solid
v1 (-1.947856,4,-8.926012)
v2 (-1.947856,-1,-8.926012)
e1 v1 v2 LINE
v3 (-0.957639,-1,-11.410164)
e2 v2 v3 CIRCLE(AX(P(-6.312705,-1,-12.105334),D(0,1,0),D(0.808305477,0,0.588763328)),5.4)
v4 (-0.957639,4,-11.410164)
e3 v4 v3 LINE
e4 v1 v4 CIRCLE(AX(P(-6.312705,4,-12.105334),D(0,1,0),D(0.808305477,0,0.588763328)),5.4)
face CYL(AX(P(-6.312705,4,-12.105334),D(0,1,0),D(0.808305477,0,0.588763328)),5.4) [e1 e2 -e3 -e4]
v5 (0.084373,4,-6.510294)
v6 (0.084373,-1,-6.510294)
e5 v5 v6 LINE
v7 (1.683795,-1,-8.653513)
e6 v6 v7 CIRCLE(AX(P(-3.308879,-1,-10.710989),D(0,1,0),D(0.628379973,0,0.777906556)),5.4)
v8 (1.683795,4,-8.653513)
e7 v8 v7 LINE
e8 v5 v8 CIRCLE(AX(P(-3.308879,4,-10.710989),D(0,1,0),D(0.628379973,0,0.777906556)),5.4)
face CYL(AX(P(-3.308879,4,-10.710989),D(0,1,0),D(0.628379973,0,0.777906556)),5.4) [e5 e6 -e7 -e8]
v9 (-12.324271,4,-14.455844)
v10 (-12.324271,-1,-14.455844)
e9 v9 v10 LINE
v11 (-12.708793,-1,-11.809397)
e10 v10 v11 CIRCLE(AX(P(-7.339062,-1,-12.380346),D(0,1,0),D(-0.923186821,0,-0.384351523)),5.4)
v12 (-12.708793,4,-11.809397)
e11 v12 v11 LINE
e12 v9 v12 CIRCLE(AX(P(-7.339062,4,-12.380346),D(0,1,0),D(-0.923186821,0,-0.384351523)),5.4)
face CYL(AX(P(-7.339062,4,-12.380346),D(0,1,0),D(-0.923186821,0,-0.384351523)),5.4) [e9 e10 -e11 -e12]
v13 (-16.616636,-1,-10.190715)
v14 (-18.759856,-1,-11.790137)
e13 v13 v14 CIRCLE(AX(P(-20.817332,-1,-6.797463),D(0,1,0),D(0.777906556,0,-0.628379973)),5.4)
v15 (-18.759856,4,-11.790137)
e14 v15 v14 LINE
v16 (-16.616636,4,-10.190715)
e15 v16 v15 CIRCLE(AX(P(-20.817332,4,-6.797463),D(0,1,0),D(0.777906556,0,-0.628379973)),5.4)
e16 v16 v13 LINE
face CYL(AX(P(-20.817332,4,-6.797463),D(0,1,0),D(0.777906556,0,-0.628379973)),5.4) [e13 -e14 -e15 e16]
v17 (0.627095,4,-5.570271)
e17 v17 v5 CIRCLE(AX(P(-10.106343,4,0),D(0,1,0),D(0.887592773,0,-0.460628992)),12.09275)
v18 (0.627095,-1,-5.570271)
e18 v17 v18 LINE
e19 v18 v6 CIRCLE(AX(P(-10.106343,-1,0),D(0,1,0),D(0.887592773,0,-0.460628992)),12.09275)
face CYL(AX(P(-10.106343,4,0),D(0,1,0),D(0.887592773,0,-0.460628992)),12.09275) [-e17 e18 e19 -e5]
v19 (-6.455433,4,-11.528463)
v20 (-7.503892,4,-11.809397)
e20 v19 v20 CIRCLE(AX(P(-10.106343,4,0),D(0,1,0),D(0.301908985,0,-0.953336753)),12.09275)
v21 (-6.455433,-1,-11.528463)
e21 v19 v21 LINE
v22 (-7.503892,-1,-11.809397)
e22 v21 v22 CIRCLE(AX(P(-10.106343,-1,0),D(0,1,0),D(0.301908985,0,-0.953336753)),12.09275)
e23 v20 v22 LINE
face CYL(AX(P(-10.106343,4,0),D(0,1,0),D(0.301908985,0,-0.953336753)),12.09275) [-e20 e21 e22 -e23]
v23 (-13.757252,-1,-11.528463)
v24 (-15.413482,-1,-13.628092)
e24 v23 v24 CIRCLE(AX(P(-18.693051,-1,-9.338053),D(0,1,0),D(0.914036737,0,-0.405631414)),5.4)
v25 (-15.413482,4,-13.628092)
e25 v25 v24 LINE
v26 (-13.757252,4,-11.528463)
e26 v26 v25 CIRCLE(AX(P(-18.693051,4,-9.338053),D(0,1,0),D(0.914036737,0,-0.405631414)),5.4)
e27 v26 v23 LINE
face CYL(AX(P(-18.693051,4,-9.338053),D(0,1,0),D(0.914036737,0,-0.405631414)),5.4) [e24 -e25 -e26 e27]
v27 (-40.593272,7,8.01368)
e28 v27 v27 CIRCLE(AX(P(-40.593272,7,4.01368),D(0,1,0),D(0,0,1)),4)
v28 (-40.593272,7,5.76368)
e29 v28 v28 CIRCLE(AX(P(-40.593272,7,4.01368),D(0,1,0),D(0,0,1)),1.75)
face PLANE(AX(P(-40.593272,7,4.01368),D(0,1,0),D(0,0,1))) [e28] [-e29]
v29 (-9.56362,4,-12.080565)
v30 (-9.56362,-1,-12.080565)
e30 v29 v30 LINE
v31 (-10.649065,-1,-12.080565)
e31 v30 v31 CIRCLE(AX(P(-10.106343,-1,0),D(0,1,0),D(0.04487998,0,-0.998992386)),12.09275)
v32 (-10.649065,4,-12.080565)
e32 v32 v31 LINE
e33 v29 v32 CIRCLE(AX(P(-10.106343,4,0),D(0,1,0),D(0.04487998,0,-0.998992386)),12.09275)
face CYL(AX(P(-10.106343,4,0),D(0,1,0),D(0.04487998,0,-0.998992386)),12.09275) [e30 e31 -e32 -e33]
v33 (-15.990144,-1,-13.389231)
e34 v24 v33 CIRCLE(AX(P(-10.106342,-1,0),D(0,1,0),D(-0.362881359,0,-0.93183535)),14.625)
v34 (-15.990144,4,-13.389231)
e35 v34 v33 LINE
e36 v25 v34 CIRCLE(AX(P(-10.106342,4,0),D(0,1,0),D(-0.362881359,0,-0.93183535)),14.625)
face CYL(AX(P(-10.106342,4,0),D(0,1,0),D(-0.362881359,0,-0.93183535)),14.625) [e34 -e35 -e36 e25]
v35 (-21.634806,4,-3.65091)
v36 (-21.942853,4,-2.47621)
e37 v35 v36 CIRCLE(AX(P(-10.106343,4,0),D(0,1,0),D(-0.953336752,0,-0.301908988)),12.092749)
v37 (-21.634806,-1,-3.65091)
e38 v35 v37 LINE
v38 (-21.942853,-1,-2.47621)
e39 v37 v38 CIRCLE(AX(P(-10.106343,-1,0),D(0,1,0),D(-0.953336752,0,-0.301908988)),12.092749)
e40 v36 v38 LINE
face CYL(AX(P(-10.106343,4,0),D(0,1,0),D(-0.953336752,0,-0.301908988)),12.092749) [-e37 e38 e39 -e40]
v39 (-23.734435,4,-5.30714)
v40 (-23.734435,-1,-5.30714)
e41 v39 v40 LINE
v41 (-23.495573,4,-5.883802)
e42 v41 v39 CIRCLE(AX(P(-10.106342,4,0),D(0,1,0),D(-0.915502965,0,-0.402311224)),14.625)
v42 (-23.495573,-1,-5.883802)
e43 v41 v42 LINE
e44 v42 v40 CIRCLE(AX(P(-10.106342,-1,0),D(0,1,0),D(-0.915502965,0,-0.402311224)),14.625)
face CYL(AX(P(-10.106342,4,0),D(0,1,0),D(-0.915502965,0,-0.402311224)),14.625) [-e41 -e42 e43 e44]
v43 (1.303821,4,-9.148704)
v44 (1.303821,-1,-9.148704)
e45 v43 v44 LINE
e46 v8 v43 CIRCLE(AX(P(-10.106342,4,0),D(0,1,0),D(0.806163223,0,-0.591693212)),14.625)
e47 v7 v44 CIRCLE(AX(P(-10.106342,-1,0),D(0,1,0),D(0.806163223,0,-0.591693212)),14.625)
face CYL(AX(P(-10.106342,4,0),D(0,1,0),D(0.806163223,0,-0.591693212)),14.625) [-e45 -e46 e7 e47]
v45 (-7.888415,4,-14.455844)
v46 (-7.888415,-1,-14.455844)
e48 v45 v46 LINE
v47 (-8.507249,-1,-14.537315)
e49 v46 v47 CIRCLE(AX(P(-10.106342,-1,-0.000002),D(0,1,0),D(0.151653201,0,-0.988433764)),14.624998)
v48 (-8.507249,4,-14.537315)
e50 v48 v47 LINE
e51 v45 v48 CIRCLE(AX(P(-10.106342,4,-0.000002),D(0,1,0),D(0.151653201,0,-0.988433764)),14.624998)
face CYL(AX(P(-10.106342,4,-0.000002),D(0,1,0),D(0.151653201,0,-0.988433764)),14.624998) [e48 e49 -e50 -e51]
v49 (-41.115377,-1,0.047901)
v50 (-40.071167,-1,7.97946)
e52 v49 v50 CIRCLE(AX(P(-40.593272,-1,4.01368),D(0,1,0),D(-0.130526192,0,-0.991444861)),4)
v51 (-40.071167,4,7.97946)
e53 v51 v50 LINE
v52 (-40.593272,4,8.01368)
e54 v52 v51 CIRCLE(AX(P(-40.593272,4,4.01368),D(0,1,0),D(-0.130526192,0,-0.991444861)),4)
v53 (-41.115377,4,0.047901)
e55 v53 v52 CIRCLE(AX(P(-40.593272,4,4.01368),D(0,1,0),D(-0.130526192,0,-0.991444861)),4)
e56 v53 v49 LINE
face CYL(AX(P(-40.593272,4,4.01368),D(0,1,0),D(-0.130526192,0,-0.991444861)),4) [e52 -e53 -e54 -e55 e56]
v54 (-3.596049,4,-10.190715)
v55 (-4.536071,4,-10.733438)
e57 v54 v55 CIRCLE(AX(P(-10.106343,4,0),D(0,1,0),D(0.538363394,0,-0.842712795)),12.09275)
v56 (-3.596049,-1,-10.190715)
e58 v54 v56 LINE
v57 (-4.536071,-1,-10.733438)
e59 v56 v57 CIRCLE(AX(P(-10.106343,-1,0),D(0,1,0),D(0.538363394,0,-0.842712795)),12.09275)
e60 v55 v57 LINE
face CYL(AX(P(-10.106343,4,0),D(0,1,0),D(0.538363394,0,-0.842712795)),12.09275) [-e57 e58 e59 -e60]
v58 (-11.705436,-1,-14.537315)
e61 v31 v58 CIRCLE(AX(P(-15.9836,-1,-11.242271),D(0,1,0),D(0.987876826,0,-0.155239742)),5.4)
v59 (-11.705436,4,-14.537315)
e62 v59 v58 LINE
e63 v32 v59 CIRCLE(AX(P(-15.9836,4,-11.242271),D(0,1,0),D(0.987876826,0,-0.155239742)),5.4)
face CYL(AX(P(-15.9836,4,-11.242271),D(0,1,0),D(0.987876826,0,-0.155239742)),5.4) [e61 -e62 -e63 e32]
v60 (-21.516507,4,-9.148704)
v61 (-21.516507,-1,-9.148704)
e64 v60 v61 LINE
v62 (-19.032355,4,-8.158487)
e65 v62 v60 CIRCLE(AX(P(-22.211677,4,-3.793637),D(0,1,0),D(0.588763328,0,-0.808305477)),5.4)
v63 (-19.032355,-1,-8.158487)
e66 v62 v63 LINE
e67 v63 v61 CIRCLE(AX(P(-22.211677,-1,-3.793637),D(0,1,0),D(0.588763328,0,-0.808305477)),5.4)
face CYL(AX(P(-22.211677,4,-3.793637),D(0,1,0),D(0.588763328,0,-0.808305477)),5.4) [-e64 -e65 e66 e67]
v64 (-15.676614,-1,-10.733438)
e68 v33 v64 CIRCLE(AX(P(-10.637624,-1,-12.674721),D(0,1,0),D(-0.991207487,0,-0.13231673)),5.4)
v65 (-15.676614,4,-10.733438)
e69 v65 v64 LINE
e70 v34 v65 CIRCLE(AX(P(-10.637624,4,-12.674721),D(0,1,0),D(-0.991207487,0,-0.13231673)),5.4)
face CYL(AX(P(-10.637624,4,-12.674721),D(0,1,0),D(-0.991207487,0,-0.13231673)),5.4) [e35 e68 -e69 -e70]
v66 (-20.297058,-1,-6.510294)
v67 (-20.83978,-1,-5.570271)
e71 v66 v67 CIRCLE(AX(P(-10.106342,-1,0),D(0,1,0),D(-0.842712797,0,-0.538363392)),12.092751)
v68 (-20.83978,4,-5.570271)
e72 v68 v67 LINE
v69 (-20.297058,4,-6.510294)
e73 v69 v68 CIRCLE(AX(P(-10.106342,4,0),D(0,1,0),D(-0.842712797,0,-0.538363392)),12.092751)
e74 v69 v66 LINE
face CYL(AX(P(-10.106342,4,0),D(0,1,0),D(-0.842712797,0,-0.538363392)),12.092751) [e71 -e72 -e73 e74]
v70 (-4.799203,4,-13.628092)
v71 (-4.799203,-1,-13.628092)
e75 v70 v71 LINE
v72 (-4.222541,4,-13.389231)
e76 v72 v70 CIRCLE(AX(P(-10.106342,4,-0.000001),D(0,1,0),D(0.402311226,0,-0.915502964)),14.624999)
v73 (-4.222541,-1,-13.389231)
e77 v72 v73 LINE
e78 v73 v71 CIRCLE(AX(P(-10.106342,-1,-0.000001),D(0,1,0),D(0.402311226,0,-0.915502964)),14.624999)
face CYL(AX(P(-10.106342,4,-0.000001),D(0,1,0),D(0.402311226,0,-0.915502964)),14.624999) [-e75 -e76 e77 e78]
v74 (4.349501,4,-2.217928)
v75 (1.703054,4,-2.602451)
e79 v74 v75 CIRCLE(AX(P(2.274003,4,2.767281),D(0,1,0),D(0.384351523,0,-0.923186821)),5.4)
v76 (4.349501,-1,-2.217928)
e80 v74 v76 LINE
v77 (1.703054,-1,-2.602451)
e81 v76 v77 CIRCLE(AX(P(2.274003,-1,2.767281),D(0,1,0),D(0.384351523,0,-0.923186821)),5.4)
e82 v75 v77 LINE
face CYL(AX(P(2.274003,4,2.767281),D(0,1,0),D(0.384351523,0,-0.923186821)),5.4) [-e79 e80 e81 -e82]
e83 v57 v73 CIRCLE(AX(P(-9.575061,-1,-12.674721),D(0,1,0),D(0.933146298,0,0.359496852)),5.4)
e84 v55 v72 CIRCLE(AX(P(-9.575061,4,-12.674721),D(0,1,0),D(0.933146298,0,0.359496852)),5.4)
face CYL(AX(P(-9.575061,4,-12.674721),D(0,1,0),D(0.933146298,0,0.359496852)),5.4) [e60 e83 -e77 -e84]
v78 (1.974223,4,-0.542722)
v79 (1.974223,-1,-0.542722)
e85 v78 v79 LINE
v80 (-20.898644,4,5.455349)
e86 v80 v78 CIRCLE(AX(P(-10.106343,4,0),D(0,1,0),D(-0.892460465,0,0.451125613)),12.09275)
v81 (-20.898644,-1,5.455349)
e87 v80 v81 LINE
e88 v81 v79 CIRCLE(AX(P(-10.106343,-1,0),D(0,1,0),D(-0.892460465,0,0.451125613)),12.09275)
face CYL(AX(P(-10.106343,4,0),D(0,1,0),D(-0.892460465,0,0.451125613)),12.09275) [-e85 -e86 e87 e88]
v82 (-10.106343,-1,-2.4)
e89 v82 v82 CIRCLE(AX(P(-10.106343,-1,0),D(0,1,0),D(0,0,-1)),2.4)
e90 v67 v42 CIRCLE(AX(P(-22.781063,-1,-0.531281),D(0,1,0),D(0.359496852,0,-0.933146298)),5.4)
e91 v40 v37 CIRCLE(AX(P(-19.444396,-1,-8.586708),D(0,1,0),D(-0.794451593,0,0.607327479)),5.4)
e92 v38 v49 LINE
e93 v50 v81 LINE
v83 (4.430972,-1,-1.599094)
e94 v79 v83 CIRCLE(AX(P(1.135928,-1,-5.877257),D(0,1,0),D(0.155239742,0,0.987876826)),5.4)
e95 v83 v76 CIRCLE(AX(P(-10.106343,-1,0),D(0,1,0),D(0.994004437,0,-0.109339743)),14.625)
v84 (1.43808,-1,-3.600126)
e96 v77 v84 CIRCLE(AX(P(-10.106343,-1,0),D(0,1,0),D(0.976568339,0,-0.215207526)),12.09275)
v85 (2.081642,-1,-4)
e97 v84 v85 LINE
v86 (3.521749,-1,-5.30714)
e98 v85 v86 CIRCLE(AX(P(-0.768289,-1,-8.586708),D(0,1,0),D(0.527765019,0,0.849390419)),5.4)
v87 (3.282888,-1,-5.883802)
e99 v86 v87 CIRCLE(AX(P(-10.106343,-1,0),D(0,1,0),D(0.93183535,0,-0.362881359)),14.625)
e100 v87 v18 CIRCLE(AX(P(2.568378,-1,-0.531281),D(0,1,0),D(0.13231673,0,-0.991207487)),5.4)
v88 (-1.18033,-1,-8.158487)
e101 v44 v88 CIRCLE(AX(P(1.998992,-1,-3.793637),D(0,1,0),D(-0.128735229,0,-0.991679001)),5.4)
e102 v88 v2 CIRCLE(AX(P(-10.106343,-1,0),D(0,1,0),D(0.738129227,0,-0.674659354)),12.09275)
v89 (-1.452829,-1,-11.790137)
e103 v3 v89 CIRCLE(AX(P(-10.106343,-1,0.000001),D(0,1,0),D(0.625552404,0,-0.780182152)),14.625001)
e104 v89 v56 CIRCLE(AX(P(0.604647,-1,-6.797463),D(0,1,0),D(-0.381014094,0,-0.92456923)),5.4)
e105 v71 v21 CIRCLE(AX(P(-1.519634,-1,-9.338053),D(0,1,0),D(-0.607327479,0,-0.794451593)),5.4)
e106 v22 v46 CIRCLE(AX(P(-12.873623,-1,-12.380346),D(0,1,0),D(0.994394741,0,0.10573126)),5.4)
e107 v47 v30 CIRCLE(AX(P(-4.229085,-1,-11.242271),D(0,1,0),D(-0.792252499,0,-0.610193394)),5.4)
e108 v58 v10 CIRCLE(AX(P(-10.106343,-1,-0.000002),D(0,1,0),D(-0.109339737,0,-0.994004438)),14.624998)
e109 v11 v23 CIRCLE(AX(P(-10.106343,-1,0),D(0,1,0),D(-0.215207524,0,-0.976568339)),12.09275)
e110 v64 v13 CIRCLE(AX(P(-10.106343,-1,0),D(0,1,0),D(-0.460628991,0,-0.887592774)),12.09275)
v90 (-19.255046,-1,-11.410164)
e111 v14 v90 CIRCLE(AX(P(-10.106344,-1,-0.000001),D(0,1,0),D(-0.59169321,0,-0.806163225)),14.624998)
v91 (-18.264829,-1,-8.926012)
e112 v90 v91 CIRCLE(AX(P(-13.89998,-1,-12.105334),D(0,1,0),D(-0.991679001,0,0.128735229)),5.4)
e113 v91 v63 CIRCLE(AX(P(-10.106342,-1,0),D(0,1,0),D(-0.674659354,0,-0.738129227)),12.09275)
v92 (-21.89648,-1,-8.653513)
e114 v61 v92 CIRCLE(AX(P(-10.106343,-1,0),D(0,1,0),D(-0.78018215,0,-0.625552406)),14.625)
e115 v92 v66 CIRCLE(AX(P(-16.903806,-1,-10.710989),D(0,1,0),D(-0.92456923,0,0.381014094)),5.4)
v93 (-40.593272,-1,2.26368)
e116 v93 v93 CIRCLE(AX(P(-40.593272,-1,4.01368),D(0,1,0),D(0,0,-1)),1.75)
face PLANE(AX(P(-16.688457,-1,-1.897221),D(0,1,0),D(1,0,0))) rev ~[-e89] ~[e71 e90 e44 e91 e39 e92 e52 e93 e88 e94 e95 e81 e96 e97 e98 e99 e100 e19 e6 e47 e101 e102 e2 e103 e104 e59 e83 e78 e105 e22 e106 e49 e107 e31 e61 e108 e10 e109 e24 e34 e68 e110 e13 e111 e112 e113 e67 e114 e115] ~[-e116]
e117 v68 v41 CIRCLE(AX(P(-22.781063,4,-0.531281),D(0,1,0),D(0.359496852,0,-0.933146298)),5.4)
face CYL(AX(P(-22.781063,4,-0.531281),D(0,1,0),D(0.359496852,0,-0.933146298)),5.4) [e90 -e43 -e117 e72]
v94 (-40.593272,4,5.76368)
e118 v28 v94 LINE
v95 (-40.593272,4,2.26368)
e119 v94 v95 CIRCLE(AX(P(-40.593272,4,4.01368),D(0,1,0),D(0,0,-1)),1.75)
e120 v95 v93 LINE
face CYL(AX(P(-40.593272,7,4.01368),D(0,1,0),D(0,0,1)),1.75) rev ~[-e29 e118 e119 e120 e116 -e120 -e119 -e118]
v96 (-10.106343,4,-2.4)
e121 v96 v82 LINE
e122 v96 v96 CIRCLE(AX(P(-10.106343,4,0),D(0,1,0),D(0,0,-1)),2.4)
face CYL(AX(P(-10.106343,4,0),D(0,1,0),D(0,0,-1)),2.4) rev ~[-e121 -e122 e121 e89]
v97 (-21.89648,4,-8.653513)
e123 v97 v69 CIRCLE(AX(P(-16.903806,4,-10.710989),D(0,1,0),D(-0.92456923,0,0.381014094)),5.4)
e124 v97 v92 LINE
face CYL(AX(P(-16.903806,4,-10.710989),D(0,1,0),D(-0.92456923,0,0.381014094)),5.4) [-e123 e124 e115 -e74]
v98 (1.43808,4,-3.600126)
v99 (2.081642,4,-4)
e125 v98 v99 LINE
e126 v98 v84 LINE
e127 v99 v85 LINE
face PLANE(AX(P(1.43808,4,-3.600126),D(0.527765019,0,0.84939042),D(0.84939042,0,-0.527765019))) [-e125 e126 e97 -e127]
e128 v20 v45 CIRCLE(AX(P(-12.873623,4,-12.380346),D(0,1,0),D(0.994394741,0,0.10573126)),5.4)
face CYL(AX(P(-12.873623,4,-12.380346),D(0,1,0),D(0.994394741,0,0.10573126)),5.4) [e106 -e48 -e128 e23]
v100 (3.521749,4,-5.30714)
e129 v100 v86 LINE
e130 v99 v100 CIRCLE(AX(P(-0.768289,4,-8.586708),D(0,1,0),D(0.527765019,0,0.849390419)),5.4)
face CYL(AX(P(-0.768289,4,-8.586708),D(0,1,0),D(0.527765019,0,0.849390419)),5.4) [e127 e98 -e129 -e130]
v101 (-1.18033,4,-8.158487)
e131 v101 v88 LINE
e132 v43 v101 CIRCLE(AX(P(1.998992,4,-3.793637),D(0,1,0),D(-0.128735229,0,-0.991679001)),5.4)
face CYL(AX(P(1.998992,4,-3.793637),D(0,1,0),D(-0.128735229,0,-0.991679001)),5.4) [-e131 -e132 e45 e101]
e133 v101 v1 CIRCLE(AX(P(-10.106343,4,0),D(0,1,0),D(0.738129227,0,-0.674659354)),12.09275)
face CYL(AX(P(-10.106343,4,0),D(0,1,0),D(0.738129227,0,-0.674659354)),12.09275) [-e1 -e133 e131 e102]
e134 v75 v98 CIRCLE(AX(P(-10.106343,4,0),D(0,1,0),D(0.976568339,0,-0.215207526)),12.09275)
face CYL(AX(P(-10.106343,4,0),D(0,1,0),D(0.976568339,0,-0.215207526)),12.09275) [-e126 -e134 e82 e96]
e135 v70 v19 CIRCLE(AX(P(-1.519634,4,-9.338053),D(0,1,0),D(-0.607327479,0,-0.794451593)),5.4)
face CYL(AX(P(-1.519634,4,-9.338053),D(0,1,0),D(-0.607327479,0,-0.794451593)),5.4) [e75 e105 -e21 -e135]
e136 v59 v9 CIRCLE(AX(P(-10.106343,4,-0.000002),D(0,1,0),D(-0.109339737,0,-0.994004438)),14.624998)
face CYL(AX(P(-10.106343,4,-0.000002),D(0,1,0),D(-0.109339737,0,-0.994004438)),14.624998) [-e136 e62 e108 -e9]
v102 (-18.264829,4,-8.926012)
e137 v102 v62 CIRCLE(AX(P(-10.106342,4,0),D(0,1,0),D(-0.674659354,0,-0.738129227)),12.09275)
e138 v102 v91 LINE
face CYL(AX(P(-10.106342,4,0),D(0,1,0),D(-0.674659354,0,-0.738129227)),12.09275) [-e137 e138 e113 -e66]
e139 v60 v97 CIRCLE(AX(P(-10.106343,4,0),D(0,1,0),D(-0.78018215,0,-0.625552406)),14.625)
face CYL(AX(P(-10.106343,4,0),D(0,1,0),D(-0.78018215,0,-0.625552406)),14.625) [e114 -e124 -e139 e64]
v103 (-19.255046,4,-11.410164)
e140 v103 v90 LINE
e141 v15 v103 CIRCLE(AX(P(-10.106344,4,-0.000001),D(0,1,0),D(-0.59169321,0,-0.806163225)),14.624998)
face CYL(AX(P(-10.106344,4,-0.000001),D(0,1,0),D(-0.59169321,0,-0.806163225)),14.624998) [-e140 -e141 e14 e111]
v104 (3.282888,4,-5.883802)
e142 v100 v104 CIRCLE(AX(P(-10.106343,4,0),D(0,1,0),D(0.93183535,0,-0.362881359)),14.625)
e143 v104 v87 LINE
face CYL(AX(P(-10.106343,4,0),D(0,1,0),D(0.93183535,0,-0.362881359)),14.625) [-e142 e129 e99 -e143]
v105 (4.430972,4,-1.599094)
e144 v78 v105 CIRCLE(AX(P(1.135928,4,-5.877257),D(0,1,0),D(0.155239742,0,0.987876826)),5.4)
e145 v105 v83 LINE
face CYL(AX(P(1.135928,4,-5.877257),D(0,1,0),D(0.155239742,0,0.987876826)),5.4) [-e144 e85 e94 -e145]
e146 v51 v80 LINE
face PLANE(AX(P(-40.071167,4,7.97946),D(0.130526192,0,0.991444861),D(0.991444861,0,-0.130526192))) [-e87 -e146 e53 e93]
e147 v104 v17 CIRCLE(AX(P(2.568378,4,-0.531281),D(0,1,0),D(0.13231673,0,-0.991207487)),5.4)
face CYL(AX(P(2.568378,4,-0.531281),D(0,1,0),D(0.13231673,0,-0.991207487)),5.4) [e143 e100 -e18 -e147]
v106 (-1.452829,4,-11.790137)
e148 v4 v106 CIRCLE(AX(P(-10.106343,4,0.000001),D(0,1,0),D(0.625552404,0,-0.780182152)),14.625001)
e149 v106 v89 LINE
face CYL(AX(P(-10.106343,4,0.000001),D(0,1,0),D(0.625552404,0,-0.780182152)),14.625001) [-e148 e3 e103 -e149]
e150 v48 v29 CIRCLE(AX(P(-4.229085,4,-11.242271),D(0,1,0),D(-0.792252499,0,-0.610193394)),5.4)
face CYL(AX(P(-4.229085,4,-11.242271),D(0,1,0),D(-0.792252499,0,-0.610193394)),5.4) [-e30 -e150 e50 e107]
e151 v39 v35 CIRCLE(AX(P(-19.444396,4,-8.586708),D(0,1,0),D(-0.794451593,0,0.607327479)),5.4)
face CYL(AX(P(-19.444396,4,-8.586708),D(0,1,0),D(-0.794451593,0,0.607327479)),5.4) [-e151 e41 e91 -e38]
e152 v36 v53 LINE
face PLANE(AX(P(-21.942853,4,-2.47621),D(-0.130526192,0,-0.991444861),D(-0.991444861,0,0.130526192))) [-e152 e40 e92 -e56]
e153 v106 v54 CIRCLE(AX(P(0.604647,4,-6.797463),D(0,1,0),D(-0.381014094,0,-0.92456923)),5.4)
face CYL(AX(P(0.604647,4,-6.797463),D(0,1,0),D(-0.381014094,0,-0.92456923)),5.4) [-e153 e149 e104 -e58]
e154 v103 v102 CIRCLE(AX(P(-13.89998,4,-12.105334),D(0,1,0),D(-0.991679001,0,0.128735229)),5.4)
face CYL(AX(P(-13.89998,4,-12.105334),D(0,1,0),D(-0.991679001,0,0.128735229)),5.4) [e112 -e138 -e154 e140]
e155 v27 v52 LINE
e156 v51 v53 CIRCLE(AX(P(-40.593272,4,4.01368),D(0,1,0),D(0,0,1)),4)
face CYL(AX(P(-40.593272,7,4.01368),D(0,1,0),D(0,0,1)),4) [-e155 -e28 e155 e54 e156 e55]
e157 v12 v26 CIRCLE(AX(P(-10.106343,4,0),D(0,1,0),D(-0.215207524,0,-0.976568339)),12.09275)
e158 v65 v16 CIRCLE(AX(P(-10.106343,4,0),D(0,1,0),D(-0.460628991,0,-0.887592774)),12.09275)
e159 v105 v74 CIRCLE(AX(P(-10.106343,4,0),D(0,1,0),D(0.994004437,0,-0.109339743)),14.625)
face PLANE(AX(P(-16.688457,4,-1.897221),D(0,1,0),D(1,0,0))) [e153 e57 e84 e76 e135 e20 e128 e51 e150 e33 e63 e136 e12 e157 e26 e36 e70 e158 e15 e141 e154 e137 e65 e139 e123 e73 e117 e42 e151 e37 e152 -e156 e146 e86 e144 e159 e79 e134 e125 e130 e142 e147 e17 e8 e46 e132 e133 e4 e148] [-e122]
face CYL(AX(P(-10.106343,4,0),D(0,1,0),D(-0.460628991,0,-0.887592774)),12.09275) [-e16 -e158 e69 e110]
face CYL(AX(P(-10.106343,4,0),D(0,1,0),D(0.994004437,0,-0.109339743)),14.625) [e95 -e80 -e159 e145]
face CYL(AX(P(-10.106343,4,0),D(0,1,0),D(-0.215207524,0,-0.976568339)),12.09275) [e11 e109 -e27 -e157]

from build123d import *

# Parameters (mm, degrees)
SKETCH1_R           = 1.75
SKETCH1_R_2         = 2.4
BOSS_EXTRUDE1_DEPTH = 5
EXTRUDE_START       = 3
SKETCH_1_R          = 4
SKETCH_1_R_2        = 1.75
EXTRUDE_1_DEPTH     = 3


with BuildPart() as part:
    # Sketch1 → Boss-Extrude1 (new body)
    with BuildSketch(Plane(origin=(0, 4, 0), x_dir=(1, 0, 0), z_dir=(0, 1, 0))):
        with BuildLine():
            Line((1.43808022, 3.600125745), (2.081641936, 4))
            ThreePointArc((2.081641936, 4), (2.861028333, 4.588201733), (3.521749436, 5.30713988))
            ThreePointArc((3.521749436, 5.30713988), (3.405395609, 5.596745198), (3.282888305, 5.883801663))
            ThreePointArc((3.282888305, 5.883801663), (1.93527598, 5.894040025), (0.627094961, 5.57027124))
            ThreePointArc((0.627094961, 5.57027124), (0.366286148, 6.046375), (0.084372603, 6.510293938))
            ThreePointArc((0.084372603, 6.510293938), (1.018855105, 7.48132754), (1.683794586, 8.65351323))
            ThreePointArc((1.683794586, 8.65351323), (1.496450048, 8.903135899), (1.303821399, 9.148703928))
            ThreePointArc((1.303821399, 9.148703928), (-0.000522033, 8.809805691), (-1.180330337, 8.158486898))
            ThreePointArc((-1.180330337, 8.158486898), (-1.555477026, 8.550865528), (-1.947855656, 8.926012217))
            ThreePointArc((-1.947855656, 8.926012217), (-1.296536862, 10.105820521), (-0.957638625, 11.410163953))
            ThreePointArc((-0.957638625, 11.410163953), (-1.203206655, 11.602792602), (-1.452829324, 11.79013714))
            ThreePointArc((-1.452829324, 11.79013714), (-2.625015014, 11.125197659), (-3.596048616, 10.190715157))
            ThreePointArc((-3.596048616, 10.190715157), (-4.059967554, 10.472628702), (-4.536071314, 10.733437515))
            ThreePointArc((-4.536071314, 10.733437515), (-4.212302529, 12.041618533), (-4.222540891, 13.389230859))
            ThreePointArc((-4.222540891, 13.389230859), (-4.509597355, 13.511738163), (-4.799202674, 13.62809199))
            ThreePointArc((-4.799202674, 13.62809199), (-5.759348103, 12.682425791), (-6.455432668, 11.528463019))
            ThreePointArc((-6.455432668, 11.528463019), (-6.976508546, 11.680699536), (-7.503891752, 11.809396783))
            ThreePointArc((-7.503891752, 11.809396783), (-7.529737283, 13.156800143), (-7.888414517, 14.455843809))
            ThreePointArc((-7.888414517, 14.455843809), (-8.197396993, 14.499881098), (-8.507248835, 14.537314892))
            ThreePointArc((-8.507248835, 14.537314892), (-9.18992168, 13.375367565), (-9.563620196, 12.080565177))
            ThreePointArc((-9.563620196, 12.080565177), (-10.106342554, 12.09275), (-10.649064912, 12.080565177))
            ThreePointArc((-10.649064912, 12.080565177), (-11.022763428, 13.375367565), (-11.705436272, 14.537314892))
            ThreePointArc((-11.705436272, 14.537314892), (-12.015288115, 14.499881098), (-12.324270591, 14.455843809))
            ThreePointArc((-12.324270591, 14.455843809), (-12.682947825, 13.156800143), (-12.708793355, 11.809396783))
            ThreePointArc((-12.708793355, 11.809396783), (-13.236176561, 11.680699536), (-13.757252439, 11.528463019))
            ThreePointArc((-13.757252439, 11.528463019), (-14.453337005, 12.682425791), (-15.413482434, 13.62809199))
            ThreePointArc((-15.413482434, 13.62809199), (-15.703087752, 13.511738163), (-15.990144217, 13.389230859))
            ThreePointArc((-15.990144217, 13.389230859), (-16.000382579, 12.041618533), (-15.676613793, 10.733437515))
            ThreePointArc((-15.676613793, 10.733437515), (-16.152717554, 10.472628702), (-16.616636492, 10.190715157))
            ThreePointArc((-16.616636492, 10.190715157), (-17.587670094, 11.125197659), (-18.759855783, 11.79013714))
            ThreePointArc((-18.759855783, 11.79013714), (-19.009478453, 11.602792602), (-19.255046482, 11.410163953))
            ThreePointArc((-19.255046482, 11.410163953), (-18.916148245, 10.105820521), (-18.264829452, 8.926012217))
            ThreePointArc((-18.264829452, 8.926012217), (-18.657208082, 8.550865528), (-19.032354771, 8.158486898))
            ThreePointArc((-19.032354771, 8.158486898), (-20.212163074, 8.809805691), (-21.516506507, 9.148703928))
            ThreePointArc((-21.516506507, 9.148703928), (-21.709135156, 8.903135899), (-21.896479694, 8.65351323))
            ThreePointArc((-21.896479694, 8.65351323), (-21.231540213, 7.48132754), (-20.297057711, 6.510293938))
            ThreePointArc((-20.297057711, 6.510293938), (-20.578971255, 6.046375), (-20.839780068, 5.57027124))
            ThreePointArc((-20.839780068, 5.57027124), (-22.147961087, 5.894040025), (-23.495573413, 5.883801663))
            ThreePointArc((-23.495573413, 5.883801663), (-23.618080717, 5.596745198), (-23.734434544, 5.30713988))
            ThreePointArc((-23.734434544, 5.30713988), (-22.788768345, 4.346994451), (-21.634805572, 3.650909885))
            ThreePointArc((-21.634805572, 3.650909885), (-21.803584999, 3.067429176), (-21.942853375, 2.47620963))
            Line((-21.942853375, 2.47620963), (-41.11537681, -0.047900965))
            ThreePointArc((-41.11537681, -0.047900965), (-44.559051487, -4.53578518), (-40.071167272, -7.979459856))
            Line((-40.071167272, -7.979459856), (-20.898643838, -5.455349261))
            ThreePointArc((-20.898643838, -5.455349261), (-7.038913378, -11.697242445), (1.974222624, 0.542722358))
            ThreePointArc((1.974222624, 0.542722358), (3.269025011, 0.916420874), (4.430972339, 1.599093719))
            ThreePointArc((4.430972339, 1.599093719), (4.393538544, 1.908945561), (4.349501255, 2.217928037))
            ThreePointArc((4.349501255, 2.217928037), (3.050457589, 2.576605271), (1.70305423, 2.602450802))
            ThreePointArc((1.70305423, 2.602450802), (1.581217534, 3.104116905), (1.43808022, 3.600125745))
        make_face()
        with Locations(Location((-40.593272041, -4.013680411, 0), (0, 0, 90))):
            Circle(SKETCH1_R, mode=Mode.SUBTRACT)
        with Locations(Location((-10.106342554, 0, 0), (0, 0, 90))):
            Circle(SKETCH1_R_2, mode=Mode.SUBTRACT)
    extrude(amount=-BOSS_EXTRUDE1_DEPTH)

    # 草图1 → 凸台-拉伸1 (add)
    with BuildSketch(Plane(origin=(0, 4, 0), x_dir=(1, 0, 0), z_dir=(0, 1, 0)).offset(EXTRUDE_START)):
        with Locations(Location((-40.593272041, -4.013680411, 0), (0, 0, 270))):
            Circle(SKETCH_1_R)
        with Locations(Location((-40.593272041, -4.013680411, 0), (0, 0, 270))):
            Circle(SKETCH_1_R_2, mode=Mode.SUBTRACT)
    extrude(amount=-EXTRUDE_1_DEPTH)


solid = part.part
